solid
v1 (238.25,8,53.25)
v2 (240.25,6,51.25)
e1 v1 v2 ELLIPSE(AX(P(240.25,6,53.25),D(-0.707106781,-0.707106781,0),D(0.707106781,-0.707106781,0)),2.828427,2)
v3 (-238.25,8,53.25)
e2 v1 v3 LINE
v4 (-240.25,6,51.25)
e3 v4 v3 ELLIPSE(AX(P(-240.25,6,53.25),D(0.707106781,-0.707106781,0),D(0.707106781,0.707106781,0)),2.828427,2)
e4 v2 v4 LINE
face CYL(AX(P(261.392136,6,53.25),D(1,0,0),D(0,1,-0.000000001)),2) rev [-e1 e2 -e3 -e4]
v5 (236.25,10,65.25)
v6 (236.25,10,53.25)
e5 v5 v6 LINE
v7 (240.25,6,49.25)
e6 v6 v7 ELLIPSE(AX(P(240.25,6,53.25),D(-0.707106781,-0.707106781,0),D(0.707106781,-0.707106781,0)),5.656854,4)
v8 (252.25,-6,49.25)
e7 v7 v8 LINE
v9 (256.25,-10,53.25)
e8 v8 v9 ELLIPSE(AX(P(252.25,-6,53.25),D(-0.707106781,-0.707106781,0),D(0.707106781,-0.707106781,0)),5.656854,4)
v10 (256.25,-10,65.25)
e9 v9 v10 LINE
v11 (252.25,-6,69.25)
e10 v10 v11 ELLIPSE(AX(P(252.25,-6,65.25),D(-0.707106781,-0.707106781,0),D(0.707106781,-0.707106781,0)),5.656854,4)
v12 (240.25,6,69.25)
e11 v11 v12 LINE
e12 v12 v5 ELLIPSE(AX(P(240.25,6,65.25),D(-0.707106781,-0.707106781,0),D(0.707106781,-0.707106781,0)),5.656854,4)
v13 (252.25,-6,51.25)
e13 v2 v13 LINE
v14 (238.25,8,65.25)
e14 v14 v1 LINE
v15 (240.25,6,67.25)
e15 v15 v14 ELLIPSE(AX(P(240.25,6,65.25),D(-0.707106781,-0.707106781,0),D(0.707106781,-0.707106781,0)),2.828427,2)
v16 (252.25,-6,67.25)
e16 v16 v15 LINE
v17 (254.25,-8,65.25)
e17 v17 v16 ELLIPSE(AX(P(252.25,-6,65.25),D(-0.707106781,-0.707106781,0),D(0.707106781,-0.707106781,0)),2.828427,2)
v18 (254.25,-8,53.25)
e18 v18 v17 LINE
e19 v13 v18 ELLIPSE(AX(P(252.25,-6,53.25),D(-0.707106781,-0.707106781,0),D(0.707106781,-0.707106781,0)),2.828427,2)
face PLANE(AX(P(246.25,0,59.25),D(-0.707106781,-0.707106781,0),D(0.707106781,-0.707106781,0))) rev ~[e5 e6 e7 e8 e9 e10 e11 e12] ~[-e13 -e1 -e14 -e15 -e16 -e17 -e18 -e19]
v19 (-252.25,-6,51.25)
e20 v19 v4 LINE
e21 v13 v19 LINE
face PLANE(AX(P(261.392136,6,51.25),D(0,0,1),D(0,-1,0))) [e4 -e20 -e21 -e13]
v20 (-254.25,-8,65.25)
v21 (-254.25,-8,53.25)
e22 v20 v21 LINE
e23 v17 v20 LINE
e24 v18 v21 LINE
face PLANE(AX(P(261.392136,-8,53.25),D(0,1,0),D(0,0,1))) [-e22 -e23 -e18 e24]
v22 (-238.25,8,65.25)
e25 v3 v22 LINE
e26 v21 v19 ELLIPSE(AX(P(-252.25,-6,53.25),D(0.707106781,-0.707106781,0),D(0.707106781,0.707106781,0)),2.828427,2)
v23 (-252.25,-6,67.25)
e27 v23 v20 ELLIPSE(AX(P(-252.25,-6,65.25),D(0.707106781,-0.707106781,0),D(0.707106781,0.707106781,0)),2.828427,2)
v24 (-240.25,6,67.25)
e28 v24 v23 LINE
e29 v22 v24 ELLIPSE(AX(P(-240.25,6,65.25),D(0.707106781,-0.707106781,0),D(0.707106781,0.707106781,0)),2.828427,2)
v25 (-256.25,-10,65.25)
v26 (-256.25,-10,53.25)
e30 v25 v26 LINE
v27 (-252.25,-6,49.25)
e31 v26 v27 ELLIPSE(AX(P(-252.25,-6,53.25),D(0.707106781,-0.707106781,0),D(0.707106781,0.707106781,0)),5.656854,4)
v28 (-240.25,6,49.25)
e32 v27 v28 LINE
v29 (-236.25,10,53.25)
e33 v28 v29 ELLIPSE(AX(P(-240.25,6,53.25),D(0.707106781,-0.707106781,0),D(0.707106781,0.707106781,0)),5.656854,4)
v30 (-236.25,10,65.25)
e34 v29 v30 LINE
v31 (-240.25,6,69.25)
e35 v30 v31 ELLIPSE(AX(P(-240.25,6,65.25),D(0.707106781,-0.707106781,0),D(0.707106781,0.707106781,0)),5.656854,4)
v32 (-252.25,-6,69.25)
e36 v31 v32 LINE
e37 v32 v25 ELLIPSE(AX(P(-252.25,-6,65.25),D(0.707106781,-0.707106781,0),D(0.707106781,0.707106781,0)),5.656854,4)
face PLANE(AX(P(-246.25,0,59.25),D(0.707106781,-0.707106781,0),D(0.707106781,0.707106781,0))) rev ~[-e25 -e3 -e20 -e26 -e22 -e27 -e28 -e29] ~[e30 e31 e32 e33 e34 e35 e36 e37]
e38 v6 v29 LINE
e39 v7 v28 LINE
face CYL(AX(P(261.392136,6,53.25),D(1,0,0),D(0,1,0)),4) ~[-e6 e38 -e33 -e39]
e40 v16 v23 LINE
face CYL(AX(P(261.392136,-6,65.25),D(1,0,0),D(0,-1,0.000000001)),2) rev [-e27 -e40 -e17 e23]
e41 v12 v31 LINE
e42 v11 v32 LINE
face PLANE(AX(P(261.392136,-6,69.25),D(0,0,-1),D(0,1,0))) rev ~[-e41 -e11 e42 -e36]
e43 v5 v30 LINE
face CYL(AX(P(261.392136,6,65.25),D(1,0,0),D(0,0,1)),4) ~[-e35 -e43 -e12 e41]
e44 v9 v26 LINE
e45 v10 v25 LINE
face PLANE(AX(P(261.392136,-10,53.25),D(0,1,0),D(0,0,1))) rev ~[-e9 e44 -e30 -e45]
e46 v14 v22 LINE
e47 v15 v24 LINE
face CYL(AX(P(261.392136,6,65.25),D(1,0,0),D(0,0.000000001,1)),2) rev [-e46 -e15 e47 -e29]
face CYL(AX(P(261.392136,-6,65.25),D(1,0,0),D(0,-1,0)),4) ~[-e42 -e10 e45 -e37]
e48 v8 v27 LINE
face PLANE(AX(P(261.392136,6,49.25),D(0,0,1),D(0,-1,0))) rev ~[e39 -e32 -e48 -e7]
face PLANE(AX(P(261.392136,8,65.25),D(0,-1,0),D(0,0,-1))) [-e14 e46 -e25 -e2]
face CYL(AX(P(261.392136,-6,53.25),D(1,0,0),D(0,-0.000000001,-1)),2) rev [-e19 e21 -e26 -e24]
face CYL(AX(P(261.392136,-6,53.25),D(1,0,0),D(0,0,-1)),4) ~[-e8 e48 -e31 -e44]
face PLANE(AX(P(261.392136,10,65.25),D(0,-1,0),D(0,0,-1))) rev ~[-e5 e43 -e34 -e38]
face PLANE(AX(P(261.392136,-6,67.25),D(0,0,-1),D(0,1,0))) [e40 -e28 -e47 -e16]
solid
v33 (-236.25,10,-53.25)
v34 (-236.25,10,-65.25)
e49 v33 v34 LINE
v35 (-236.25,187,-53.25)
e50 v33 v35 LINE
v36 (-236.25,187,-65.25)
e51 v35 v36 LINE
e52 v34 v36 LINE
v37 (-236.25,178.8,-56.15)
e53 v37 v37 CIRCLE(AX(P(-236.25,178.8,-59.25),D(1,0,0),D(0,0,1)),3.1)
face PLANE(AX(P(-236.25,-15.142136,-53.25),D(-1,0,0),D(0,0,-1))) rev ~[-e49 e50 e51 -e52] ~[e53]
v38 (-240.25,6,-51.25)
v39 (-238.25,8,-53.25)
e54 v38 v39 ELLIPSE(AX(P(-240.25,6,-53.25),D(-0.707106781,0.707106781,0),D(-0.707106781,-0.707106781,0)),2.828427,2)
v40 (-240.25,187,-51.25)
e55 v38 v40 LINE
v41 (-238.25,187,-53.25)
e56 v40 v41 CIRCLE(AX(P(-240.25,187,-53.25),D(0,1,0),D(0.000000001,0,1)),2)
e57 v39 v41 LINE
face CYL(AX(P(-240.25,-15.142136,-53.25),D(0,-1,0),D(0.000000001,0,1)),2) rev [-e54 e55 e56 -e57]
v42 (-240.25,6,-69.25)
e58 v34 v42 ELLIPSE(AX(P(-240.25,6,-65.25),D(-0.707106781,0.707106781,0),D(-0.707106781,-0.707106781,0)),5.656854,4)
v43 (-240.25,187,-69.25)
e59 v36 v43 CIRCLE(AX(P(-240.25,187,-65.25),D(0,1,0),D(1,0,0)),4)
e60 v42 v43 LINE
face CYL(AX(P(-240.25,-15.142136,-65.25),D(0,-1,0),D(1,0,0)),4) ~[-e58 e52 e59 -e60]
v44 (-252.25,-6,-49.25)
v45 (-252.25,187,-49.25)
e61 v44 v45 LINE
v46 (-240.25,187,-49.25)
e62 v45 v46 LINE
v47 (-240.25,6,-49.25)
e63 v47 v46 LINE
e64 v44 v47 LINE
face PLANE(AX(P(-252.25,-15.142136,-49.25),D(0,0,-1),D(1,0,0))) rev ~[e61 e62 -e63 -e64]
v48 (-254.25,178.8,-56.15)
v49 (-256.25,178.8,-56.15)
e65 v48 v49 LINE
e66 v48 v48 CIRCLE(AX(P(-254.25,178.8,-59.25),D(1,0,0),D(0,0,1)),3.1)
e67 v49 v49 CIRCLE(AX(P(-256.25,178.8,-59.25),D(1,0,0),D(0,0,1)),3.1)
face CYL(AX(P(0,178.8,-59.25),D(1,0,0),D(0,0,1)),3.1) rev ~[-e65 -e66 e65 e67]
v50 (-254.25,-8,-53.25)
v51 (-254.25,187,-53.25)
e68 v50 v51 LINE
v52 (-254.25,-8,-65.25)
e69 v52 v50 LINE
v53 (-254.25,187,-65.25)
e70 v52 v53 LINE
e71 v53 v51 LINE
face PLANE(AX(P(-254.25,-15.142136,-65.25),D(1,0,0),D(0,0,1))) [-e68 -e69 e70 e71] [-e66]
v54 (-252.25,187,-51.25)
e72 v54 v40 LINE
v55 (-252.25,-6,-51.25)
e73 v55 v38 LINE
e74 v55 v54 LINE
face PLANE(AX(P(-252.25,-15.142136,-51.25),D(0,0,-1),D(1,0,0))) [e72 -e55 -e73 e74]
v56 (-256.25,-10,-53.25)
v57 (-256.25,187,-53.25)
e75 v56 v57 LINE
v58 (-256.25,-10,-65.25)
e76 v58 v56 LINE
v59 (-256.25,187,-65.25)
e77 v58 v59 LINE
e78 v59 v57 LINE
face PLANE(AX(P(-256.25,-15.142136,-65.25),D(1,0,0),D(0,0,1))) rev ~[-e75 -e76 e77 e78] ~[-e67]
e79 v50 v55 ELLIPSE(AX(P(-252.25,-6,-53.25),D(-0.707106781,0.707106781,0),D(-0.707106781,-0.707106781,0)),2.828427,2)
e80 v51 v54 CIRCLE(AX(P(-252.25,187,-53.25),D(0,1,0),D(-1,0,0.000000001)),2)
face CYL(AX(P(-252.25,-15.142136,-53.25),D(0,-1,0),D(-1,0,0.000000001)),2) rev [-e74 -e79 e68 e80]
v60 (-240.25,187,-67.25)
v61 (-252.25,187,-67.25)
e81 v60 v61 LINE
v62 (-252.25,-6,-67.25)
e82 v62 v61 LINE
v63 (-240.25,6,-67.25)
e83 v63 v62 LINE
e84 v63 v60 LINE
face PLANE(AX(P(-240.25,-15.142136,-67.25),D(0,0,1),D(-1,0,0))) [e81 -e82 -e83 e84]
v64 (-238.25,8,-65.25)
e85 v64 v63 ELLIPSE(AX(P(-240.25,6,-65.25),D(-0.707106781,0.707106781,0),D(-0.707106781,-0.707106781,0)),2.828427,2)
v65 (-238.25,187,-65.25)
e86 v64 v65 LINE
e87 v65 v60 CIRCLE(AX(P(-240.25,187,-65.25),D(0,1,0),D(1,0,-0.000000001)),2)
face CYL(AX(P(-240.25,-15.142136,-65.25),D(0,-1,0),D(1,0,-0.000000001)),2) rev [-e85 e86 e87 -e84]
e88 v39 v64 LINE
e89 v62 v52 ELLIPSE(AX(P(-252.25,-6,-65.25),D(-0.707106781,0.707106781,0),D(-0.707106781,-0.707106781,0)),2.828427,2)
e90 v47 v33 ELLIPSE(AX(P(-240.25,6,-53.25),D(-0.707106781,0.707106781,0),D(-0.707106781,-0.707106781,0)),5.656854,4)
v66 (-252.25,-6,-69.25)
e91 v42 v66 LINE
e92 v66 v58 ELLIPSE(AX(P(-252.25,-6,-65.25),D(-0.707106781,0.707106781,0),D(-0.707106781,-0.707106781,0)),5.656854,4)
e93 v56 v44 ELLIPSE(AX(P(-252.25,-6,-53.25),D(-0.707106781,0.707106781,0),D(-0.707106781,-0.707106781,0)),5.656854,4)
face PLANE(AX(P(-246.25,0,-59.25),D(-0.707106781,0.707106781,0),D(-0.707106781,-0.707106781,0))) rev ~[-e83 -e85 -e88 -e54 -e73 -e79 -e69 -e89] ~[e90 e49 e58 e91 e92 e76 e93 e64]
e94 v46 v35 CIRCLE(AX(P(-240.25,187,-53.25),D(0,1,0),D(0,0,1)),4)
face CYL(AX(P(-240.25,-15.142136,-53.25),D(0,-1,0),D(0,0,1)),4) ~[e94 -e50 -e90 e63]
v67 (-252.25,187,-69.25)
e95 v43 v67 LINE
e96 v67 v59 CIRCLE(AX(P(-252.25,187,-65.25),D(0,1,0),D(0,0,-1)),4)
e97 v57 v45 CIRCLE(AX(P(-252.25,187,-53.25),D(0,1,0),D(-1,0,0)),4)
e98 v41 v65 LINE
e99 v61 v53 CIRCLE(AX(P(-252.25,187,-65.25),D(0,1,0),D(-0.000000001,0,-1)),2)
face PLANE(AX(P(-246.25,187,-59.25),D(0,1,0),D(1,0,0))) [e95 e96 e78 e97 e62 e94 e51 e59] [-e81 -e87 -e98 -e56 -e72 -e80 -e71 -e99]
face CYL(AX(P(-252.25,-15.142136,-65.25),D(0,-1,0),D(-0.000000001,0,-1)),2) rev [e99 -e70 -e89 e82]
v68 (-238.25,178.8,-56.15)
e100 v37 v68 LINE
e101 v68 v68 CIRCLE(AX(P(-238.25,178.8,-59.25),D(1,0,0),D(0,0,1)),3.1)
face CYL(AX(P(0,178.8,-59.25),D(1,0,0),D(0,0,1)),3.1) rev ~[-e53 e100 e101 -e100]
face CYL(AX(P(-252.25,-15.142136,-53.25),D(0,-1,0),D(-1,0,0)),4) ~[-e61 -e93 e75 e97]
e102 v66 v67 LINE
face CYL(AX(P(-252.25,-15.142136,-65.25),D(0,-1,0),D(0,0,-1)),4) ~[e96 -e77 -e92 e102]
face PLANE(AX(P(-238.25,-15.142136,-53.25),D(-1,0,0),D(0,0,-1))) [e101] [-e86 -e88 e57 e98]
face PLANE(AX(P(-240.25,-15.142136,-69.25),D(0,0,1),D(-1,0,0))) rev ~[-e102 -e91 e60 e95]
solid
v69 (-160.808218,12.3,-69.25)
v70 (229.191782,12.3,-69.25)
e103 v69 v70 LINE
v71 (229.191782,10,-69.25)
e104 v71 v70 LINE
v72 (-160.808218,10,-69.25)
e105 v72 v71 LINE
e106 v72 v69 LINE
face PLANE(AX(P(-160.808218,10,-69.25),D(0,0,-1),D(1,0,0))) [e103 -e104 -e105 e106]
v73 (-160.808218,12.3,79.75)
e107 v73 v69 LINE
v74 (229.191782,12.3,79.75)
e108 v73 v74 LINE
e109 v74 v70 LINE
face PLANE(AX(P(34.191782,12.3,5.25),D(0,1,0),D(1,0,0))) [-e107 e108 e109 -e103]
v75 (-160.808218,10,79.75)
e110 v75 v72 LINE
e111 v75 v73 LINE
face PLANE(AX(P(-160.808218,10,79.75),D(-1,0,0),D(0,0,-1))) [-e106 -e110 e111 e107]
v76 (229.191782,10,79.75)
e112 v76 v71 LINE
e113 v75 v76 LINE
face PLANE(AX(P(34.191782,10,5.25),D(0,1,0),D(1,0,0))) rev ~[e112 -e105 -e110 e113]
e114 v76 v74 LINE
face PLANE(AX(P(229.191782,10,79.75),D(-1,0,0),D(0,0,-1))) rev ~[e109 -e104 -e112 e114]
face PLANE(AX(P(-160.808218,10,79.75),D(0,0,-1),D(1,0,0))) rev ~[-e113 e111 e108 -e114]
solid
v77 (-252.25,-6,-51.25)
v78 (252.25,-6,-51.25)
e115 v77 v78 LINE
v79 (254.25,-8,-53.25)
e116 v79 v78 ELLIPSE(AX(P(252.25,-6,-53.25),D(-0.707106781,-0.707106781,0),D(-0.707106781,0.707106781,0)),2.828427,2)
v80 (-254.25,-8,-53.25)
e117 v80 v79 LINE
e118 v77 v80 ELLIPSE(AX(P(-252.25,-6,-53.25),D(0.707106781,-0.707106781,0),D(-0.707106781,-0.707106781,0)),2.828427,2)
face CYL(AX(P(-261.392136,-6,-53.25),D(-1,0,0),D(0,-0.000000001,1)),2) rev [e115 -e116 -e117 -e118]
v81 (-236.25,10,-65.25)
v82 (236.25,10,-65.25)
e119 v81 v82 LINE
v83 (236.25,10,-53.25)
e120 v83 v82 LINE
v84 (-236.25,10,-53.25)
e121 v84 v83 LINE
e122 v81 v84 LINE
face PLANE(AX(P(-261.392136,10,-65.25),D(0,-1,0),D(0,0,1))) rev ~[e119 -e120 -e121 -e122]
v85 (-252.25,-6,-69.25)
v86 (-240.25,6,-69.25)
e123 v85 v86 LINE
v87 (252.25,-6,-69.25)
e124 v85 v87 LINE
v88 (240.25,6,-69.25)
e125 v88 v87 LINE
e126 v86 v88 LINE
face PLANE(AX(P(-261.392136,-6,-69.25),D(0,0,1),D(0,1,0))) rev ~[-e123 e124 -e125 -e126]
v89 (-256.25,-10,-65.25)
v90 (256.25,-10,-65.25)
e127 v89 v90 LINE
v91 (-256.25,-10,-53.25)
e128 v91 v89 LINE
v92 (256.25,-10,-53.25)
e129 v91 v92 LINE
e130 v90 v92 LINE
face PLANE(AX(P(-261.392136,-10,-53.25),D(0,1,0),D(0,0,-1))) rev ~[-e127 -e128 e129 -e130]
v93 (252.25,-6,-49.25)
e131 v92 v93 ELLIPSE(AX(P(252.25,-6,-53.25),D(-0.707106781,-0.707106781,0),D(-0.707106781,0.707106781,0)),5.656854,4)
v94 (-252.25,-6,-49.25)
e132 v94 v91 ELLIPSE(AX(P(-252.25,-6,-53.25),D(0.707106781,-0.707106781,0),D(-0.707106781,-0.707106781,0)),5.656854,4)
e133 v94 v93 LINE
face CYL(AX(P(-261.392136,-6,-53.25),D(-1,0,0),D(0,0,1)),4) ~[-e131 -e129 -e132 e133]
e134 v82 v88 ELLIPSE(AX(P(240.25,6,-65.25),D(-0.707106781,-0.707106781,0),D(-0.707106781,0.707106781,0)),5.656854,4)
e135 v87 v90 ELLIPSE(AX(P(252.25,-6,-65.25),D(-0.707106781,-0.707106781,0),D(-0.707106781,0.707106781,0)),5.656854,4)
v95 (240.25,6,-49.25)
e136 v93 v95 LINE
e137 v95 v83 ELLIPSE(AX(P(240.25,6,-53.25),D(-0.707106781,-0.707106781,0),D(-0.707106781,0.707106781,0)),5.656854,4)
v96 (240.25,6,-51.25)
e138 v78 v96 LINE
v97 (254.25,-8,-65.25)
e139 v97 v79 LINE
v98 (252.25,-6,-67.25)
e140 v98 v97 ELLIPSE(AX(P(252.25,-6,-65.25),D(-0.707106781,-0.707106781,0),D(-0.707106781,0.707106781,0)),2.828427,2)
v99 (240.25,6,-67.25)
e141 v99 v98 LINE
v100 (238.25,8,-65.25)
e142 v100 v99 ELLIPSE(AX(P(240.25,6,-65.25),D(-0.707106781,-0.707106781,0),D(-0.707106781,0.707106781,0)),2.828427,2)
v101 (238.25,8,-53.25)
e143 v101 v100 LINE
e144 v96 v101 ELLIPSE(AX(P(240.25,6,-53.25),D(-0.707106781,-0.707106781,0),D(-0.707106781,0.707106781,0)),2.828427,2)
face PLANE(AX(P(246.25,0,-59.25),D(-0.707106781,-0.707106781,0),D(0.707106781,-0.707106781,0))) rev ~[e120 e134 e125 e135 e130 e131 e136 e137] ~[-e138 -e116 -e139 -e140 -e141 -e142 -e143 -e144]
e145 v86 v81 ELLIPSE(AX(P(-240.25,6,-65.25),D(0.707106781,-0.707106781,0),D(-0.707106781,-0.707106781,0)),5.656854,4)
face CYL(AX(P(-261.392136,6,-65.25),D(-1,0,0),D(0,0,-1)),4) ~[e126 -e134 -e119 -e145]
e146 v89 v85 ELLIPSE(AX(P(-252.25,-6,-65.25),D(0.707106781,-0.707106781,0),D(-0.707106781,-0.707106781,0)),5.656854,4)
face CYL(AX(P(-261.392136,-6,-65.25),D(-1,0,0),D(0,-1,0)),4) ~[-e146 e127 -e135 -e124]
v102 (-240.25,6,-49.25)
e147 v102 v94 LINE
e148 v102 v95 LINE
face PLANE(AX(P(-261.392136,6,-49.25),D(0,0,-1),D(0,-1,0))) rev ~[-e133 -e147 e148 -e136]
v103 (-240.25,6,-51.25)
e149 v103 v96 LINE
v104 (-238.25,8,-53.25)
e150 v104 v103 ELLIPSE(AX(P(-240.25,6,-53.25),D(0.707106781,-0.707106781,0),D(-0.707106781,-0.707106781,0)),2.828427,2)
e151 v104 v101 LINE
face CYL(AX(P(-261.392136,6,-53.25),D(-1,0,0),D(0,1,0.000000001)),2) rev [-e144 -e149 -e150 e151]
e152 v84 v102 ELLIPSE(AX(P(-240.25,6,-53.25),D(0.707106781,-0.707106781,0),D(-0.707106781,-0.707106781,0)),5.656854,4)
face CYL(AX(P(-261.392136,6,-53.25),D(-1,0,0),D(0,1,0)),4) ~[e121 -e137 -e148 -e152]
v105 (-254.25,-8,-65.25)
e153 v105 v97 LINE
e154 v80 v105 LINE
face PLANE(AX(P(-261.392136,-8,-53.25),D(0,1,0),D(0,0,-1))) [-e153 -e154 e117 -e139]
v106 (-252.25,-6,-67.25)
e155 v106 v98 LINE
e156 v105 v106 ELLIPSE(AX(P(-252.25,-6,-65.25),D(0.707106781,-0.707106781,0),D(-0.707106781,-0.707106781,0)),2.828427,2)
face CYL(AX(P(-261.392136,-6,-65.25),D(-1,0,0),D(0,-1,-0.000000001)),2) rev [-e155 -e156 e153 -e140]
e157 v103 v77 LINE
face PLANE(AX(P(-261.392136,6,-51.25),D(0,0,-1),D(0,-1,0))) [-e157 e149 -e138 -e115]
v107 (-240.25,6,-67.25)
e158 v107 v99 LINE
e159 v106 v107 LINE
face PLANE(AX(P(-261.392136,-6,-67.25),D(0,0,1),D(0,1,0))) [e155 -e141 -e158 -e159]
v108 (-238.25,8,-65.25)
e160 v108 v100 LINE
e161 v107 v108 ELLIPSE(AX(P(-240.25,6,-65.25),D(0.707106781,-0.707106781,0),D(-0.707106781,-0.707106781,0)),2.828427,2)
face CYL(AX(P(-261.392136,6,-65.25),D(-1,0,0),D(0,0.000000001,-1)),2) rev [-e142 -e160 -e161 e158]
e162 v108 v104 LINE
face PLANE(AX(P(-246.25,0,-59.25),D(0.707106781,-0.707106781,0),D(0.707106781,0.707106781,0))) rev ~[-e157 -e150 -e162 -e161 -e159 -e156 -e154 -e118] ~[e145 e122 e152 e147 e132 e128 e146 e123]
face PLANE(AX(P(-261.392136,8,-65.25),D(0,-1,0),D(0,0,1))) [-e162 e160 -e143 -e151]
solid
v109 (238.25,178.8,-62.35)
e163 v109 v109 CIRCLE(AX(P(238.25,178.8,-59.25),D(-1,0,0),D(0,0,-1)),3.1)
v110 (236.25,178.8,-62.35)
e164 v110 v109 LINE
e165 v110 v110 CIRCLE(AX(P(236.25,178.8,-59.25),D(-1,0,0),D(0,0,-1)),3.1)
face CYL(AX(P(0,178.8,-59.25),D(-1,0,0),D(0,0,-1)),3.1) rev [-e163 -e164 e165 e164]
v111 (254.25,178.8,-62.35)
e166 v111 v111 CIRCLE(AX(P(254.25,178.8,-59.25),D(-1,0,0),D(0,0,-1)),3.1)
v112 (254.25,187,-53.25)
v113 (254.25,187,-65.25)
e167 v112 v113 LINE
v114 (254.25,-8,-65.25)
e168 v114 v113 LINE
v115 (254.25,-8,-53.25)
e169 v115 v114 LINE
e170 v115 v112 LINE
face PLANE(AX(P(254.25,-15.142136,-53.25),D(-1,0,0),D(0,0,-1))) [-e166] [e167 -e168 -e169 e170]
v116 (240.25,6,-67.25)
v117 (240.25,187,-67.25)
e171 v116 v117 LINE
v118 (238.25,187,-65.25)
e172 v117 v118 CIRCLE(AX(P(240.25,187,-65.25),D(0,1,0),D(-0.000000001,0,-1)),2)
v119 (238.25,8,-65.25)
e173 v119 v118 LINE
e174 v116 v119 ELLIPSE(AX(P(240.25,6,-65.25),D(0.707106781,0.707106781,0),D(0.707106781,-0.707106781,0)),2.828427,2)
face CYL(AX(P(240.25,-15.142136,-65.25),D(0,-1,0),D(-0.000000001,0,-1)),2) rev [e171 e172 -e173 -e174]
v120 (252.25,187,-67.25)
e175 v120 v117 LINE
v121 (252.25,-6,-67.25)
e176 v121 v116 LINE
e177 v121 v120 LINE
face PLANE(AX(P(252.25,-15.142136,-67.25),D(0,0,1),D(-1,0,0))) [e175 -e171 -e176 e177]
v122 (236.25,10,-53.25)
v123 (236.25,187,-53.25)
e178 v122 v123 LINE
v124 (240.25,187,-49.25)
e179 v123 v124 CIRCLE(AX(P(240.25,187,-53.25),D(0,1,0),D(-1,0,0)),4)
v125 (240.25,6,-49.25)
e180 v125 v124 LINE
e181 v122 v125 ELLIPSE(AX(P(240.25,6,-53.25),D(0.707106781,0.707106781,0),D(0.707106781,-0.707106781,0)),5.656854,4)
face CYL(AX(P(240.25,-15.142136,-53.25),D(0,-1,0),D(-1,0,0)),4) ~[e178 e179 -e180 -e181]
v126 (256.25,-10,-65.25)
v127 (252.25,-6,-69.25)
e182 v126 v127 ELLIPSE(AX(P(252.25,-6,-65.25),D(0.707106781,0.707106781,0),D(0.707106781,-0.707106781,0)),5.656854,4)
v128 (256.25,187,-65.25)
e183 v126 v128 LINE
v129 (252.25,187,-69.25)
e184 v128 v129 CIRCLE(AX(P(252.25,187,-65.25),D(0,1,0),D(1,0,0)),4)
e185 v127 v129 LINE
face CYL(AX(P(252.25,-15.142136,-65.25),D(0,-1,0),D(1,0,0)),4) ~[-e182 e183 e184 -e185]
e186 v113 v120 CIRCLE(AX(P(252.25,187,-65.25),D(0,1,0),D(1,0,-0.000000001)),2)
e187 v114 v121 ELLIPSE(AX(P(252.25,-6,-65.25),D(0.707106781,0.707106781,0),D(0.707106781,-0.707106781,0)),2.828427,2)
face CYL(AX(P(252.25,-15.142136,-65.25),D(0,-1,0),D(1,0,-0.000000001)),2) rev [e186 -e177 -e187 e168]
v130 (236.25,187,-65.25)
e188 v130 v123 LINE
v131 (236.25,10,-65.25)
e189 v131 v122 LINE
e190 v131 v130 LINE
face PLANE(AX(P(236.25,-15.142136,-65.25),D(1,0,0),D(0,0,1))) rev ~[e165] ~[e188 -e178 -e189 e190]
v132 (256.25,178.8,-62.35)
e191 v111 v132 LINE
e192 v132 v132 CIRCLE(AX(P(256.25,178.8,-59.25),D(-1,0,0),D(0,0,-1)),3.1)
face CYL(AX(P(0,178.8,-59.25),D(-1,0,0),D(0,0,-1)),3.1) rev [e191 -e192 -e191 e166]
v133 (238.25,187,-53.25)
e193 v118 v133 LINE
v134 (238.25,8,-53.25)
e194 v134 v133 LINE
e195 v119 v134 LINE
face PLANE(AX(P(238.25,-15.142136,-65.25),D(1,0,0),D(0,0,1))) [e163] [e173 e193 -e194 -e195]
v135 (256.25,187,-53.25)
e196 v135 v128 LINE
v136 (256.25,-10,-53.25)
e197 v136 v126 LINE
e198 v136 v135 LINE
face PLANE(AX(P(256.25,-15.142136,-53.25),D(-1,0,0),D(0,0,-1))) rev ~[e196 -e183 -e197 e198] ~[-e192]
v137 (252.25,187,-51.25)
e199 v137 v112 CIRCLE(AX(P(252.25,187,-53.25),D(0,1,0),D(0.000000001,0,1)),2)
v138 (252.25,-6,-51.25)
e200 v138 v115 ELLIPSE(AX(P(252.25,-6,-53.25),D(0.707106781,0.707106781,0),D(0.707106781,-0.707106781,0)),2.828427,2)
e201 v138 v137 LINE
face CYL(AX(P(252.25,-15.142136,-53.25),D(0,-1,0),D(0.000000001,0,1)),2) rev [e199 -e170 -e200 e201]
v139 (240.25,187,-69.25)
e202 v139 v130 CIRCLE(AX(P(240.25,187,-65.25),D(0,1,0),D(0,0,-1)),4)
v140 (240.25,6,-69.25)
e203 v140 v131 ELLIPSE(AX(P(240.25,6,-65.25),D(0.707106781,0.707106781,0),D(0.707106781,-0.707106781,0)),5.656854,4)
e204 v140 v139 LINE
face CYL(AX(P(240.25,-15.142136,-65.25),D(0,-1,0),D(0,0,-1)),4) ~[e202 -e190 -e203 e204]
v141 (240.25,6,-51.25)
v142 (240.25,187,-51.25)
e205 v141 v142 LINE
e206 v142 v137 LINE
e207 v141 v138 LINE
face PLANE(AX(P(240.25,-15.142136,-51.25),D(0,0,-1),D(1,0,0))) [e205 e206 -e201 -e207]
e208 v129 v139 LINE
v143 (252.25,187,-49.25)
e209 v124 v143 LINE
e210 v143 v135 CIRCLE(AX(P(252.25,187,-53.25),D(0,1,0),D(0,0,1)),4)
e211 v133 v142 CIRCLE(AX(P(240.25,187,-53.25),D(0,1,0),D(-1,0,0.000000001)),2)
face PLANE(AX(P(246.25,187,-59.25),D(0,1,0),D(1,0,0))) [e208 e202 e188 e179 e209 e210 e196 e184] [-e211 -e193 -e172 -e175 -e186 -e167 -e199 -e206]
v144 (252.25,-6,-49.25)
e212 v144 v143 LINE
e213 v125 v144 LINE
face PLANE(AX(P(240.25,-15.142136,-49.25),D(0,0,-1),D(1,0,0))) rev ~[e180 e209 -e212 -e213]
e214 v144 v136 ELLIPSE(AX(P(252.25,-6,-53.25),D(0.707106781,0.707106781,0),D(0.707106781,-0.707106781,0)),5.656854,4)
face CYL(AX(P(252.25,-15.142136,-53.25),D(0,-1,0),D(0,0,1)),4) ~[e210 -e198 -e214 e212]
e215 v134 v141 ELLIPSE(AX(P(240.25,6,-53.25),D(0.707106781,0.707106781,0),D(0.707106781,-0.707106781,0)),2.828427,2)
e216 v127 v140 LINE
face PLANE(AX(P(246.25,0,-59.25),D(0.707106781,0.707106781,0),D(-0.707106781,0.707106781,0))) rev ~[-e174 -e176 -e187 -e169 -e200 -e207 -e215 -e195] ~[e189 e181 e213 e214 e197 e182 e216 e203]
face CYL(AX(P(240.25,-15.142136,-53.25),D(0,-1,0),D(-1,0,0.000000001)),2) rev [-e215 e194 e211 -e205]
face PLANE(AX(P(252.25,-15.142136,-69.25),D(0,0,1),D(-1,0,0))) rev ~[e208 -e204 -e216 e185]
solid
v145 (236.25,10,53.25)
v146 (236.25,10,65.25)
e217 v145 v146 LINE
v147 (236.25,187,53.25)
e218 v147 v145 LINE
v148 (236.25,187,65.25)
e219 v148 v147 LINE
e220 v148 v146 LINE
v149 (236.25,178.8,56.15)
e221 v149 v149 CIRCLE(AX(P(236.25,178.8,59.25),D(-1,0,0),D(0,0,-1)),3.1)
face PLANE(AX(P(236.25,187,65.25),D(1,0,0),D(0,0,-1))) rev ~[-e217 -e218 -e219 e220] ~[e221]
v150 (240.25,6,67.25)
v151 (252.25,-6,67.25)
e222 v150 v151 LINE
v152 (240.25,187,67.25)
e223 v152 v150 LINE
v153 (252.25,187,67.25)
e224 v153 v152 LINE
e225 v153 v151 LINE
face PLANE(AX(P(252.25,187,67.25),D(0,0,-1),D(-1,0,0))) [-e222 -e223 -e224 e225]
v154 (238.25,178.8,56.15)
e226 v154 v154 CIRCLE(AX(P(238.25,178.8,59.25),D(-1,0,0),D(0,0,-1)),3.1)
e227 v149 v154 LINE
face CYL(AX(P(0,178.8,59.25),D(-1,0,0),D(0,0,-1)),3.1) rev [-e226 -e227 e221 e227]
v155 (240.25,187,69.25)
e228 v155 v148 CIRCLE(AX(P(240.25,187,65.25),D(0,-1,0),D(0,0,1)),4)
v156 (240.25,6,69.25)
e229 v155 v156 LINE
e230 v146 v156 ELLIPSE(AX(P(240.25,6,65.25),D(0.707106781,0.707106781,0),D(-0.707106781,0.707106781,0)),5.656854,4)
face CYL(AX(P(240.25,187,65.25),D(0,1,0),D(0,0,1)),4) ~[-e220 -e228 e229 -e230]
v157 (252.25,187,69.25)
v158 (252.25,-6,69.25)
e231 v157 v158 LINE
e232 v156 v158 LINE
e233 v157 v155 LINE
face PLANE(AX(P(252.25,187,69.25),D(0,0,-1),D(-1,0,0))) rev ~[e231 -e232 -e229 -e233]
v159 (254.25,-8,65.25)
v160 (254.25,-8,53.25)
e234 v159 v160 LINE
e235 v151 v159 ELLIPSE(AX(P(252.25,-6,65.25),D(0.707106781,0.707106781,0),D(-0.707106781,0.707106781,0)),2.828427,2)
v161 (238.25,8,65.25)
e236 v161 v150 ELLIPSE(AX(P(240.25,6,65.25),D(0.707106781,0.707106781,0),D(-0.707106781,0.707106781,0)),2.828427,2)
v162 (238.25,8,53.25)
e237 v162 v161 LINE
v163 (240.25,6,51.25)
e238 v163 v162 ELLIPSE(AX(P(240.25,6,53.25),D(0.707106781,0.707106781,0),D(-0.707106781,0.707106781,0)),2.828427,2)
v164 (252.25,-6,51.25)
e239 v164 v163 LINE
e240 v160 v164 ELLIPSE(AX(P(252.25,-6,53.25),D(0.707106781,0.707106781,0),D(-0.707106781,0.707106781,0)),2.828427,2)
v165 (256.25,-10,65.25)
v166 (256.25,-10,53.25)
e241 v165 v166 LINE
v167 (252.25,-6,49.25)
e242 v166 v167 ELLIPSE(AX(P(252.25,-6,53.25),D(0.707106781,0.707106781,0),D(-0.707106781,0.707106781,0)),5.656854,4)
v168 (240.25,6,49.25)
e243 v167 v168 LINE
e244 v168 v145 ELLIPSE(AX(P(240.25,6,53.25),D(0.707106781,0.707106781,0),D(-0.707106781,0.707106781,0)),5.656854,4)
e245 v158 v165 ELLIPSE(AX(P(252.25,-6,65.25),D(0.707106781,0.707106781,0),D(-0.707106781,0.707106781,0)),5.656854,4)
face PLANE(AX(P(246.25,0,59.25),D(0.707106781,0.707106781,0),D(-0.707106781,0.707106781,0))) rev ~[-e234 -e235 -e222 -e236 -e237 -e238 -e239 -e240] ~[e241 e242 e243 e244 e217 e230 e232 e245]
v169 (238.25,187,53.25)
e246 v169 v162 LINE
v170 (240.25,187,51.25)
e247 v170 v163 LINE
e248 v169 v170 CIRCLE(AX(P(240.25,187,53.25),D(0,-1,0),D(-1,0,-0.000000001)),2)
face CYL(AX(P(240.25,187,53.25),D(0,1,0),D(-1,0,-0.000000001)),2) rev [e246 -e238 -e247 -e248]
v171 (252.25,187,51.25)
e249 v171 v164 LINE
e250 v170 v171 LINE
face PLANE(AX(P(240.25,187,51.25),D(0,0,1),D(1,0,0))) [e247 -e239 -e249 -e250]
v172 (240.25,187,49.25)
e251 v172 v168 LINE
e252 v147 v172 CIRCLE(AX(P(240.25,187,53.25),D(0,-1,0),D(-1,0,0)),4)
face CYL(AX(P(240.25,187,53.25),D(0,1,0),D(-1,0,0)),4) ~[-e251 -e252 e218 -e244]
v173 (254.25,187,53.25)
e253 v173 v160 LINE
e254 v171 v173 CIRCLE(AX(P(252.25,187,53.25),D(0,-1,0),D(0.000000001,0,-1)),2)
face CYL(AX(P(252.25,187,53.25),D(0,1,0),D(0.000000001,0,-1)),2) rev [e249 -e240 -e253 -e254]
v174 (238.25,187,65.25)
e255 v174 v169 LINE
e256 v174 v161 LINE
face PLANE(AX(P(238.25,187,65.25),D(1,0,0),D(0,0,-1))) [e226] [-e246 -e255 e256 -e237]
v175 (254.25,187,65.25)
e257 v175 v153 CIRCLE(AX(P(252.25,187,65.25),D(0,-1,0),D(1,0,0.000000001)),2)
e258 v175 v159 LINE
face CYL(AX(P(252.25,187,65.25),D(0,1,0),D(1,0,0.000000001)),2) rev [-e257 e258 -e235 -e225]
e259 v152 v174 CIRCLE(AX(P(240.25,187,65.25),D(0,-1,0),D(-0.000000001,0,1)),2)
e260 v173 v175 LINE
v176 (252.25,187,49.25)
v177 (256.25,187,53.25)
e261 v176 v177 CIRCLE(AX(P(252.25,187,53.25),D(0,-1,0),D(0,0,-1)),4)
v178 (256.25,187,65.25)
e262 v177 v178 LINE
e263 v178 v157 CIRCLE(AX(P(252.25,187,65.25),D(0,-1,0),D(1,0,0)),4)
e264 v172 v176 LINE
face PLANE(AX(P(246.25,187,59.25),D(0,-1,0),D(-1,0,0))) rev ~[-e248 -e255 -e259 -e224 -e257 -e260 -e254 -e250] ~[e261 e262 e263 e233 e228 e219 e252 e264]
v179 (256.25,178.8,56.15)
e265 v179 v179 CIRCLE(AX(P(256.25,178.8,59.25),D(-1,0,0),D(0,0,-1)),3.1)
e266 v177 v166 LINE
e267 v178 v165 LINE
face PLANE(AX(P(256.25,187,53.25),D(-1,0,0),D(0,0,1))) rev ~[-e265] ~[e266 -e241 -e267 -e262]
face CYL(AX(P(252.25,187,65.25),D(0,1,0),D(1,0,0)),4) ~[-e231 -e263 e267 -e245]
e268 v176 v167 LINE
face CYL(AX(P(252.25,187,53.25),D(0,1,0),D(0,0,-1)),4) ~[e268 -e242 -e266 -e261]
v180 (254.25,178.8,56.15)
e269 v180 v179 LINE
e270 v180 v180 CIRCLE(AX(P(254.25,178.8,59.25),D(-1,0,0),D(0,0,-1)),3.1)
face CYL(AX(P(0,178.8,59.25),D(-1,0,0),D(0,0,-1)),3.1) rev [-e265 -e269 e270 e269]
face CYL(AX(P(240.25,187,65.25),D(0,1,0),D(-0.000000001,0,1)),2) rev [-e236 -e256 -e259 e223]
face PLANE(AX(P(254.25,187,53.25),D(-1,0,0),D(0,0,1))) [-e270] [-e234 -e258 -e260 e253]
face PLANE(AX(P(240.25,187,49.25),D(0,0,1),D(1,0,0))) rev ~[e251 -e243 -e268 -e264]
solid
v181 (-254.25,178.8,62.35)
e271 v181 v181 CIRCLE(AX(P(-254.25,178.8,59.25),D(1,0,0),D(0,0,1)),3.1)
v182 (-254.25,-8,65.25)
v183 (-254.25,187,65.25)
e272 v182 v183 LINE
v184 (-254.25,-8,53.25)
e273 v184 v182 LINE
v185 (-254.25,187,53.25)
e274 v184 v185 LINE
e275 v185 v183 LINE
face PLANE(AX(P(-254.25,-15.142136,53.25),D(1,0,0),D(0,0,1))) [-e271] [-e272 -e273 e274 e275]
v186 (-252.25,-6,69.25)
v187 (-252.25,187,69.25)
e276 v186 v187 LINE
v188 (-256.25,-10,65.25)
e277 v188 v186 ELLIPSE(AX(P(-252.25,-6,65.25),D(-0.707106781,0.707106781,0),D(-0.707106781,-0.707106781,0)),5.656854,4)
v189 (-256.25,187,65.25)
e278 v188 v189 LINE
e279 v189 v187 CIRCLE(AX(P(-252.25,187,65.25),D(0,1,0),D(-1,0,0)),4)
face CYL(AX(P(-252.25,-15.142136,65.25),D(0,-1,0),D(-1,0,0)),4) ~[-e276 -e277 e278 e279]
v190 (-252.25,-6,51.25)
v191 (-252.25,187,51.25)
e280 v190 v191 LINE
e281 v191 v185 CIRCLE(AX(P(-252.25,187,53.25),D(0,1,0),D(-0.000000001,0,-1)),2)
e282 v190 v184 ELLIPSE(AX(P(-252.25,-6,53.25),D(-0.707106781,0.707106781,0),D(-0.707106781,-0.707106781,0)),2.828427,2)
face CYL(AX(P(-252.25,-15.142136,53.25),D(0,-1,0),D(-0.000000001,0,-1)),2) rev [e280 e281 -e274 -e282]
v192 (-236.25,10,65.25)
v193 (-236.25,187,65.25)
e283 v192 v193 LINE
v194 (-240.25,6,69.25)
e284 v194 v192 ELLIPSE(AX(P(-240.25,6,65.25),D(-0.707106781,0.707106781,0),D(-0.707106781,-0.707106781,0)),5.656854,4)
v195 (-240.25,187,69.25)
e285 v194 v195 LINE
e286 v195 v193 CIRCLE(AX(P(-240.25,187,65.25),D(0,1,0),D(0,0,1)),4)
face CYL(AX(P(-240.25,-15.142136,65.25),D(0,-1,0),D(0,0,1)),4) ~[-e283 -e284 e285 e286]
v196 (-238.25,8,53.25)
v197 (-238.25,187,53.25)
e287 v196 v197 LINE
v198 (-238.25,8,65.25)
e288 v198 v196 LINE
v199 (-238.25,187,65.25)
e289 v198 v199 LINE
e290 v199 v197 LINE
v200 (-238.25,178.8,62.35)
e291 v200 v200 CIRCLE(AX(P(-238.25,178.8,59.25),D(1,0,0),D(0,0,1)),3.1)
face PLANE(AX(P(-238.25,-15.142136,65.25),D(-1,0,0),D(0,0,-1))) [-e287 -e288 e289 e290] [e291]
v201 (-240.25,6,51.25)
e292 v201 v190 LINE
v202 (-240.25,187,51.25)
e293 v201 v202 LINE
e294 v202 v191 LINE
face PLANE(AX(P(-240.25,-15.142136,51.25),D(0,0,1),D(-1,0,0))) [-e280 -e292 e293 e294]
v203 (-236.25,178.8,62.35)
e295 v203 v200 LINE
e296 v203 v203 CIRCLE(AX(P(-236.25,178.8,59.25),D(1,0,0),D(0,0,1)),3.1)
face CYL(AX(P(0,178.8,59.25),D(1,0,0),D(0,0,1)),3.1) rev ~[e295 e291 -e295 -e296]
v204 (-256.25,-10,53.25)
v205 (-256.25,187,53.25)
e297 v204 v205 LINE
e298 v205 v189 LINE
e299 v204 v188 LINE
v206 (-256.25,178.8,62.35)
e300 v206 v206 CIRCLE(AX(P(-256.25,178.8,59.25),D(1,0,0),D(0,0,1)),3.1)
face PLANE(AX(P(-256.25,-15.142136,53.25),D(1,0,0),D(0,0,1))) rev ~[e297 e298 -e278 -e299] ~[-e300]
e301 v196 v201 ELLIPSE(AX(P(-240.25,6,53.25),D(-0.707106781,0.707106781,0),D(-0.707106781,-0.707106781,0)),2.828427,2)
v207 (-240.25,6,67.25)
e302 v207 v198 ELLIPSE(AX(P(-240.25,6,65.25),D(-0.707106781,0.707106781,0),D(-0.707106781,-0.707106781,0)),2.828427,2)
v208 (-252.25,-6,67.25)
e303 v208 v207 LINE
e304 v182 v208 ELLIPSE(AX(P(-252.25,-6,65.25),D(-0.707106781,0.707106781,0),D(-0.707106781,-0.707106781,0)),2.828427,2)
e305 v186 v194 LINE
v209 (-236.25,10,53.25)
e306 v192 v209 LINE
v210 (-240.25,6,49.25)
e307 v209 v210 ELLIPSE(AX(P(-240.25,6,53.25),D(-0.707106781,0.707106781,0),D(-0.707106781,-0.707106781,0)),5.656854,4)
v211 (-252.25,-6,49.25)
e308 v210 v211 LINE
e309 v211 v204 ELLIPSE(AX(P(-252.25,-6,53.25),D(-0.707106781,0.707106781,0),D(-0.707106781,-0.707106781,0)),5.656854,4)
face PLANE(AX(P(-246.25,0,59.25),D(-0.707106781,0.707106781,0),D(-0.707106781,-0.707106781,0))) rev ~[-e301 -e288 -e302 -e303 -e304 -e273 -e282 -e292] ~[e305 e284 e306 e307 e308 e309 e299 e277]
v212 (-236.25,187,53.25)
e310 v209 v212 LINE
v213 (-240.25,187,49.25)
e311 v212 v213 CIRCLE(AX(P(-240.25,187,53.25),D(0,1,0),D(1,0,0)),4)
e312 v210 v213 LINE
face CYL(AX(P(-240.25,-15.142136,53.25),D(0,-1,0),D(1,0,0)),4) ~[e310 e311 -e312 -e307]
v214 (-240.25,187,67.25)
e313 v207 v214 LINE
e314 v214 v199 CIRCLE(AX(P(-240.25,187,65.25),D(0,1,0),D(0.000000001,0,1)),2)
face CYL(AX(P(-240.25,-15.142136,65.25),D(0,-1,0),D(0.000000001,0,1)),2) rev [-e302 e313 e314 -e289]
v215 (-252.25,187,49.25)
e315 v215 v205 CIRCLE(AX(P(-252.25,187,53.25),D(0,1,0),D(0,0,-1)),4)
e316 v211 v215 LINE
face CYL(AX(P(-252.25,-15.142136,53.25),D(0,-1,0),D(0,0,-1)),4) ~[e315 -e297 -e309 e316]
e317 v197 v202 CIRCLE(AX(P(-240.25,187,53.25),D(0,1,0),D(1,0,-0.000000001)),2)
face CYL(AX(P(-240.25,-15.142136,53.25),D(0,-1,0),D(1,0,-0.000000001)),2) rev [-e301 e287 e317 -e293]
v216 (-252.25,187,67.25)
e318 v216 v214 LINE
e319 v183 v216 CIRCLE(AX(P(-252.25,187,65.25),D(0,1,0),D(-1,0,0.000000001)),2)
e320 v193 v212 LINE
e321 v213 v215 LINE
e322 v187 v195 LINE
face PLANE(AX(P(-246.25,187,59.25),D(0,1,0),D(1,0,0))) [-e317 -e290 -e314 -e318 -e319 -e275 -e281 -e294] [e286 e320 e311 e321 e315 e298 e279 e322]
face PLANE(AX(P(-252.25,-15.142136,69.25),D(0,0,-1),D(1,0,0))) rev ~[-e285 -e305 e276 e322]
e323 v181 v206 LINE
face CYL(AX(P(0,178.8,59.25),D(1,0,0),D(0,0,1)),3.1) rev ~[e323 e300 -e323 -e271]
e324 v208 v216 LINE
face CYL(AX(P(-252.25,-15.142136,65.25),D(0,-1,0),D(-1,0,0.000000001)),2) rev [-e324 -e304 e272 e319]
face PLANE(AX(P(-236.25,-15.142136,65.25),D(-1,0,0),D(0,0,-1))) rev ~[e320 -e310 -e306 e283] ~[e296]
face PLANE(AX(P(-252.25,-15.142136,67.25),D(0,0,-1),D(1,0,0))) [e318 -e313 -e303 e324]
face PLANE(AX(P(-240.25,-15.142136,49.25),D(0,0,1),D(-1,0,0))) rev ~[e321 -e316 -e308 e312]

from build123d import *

# Parameters (mm, degrees)
SQUARE_TUBE_20_X_20_X_2_1_DEPTH        = 202.142135624
SQUARE_TUBE_20_X_20_X_2_1_2_DEPTH      = 522.784271247
SQUARE_TUBE_20_X_20_X_2_1_3_DEPTH      = 187
SQUARE_TUBE_20_X_20_X_2_1_3_DEPTH_BACK = 15.142135624
SQUARE_TUBE_20_X_20_X_2_1_4_DEPTH      = 202.142135624
SQUARE_TUBE_20_X_20_X_2_1_5_DEPTH      = 522.784271247
SQUARE_TUBE_20_X_20_X_2_1_6_DEPTH      = 202.142135624
SKETCH2_W                              = 390
SKETCH2_H                              = 149
BOSS_EXTRUDE1_DEPTH                    = 2.3
SKETCH3_R                              = 3.1
CUT_EXTRUDE1_DEPTH                     = 10000
SKETCH4_R                              = 3.1
CUT_EXTRUDE2_DEPTH                     = 10000


with BuildPart() as part:
    # Sketch1 on segment 1 (carried to segment 1) → Square tube 20 X 20 X 2(1) (new body)
    with BuildSketch(Plane(origin=(246.25, 187, 59.25), x_dir=(-1, 0, 0), z_dir=(0, -1, 0))):
        with BuildLine():
            Line((-6, -10), (6, -10))
            ThreePointArc((6, -10), (8.828427125, -8.828427125), (10, -6))
            Line((10, -6), (10, 6))
            ThreePointArc((10, 6), (8.828427125, 8.828427125), (6, 10))
            Line((6, 10), (-6, 10))
            ThreePointArc((-6, 10), (-8.828427125, 8.828427125), (-10, 6))
            Line((-10, 6), (-10, -6))
            ThreePointArc((-10, -6), (-8.828427125, -8.828427125), (-6, -10))
        make_face()
        with BuildLine():
            Line((-6, -8), (6, -8))
            ThreePointArc((6, -8), (7.414213562, -7.414213562), (8, -6))
            Line((8, -6), (8, 6))
            ThreePointArc((8, 6), (7.414213562, 7.414213562), (6, 8))
            Line((6, 8), (-6, 8))
            ThreePointArc((-6, 8), (-7.414213562, 7.414213562), (-8, 6))
            Line((-8, 6), (-8, -6))
            ThreePointArc((-8, -6), (-7.414213562, -7.414213562), (-6, -8))
        make_face(mode=Mode.SUBTRACT)
    extrude(amount=SQUARE_TUBE_20_X_20_X_2_1_DEPTH)

    # Square tube 20 X 20 X 2(1) mitre 1
    split(bisect_by=Plane(origin=(246.25, 0, 59.25), x_dir=(-0.707106781, 0.707106781, 0), z_dir=(0.707106781, 0.707106781, 0)), keep=Keep.TOP)


with BuildPart() as body_2:
    # Sketch1 on segment 2 (carried to segment 2) → Square tube 20 X 20 X 2_1 2 (new body)
    with BuildSketch(Plane(origin=(261.392135624, 0, 59.25), x_dir=(0, 1, 0), z_dir=(-1, 0, 0))):
        with BuildLine():
            Line((-6, -10), (6, -10))
            ThreePointArc((6, -10), (8.828427125, -8.828427125), (10, -6))
            Line((10, -6), (10, 6))
            ThreePointArc((10, 6), (8.828427125, 8.828427125), (6, 10))
            Line((6, 10), (-6, 10))
            ThreePointArc((-6, 10), (-8.828427125, 8.828427125), (-10, 6))
            Line((-10, 6), (-10, -6))
            ThreePointArc((-10, -6), (-8.828427125, -8.828427125), (-6, -10))
        make_face()
        with BuildLine():
            Line((-6, -8), (6, -8))
            ThreePointArc((6, -8), (7.414213562, -7.414213562), (8, -6))
            Line((8, -6), (8, 6))
            ThreePointArc((8, 6), (7.414213562, 7.414213562), (6, 8))
            Line((6, 8), (-6, 8))
            ThreePointArc((-6, 8), (-7.414213562, 7.414213562), (-8, 6))
            Line((-8, 6), (-8, -6))
            ThreePointArc((-8, -6), (-7.414213562, -7.414213562), (-6, -8))
        make_face(mode=Mode.SUBTRACT)
    extrude(amount=SQUARE_TUBE_20_X_20_X_2_1_2_DEPTH)

    # Square tube 20 X 20 X 2_1 2 mitre 1
    split(bisect_by=Plane(origin=(-246.25, 0, 59.25), x_dir=(0.707106781, 0.707106781, 0), z_dir=(0.707106781, -0.707106781, 0)), keep=Keep.TOP)

    # Square tube 20 X 20 X 2_1 2 mitre 2
    split(bisect_by=Plane(origin=(246.25, 0, 59.25), x_dir=(0.707106781, -0.707106781, 0), z_dir=(-0.707106781, -0.707106781, 0)), keep=Keep.TOP)


with BuildPart() as body_3:
    # Sketch1 → Square tube 20 X 20 X 2_1 3 (new, two sides: drawn at the far end of the back side and taken through both)
    with BuildSketch(Plane(origin=(-246.25, 0, 59.25), x_dir=(1, 0, 0), z_dir=(0, 1, 0)).offset(-SQUARE_TUBE_20_X_20_X_2_1_3_DEPTH_BACK)):
        with BuildLine():
            Line((-6, -10), (6, -10))
            ThreePointArc((6, -10), (8.828427125, -8.828427125), (10, -6))
            Line((10, -6), (10, 6))
            ThreePointArc((10, 6), (8.828427125, 8.828427125), (6, 10))
            Line((6, 10), (-6, 10))
            ThreePointArc((-6, 10), (-8.828427125, 8.828427125), (-10, 6))
            Line((-10, 6), (-10, -6))
            ThreePointArc((-10, -6), (-8.828427125, -8.828427125), (-6, -10))
        make_face()
        with BuildLine():
            Line((-6, -8), (6, -8))
            ThreePointArc((6, -8), (7.414213562, -7.414213562), (8, -6))
            Line((8, -6), (8, 6))
            ThreePointArc((8, 6), (7.414213562, 7.414213562), (6, 8))
            Line((6, 8), (-6, 8))
            ThreePointArc((-6, 8), (-7.414213562, 7.414213562), (-8, 6))
            Line((-8, 6), (-8, -6))
            ThreePointArc((-8, -6), (-7.414213562, -7.414213562), (-6, -8))
        make_face(mode=Mode.SUBTRACT)
    extrude(amount=SQUARE_TUBE_20_X_20_X_2_1_3_DEPTH + SQUARE_TUBE_20_X_20_X_2_1_3_DEPTH_BACK)

    # Square tube 20 X 20 X 2_1 3 mitre 1
    split(bisect_by=Plane(origin=(-246.25, 0, 59.25), x_dir=(-0.707106781, -0.707106781, 0), z_dir=(-0.707106781, 0.707106781, 0)), keep=Keep.TOP)


with BuildPart() as body_4:
    # Sketch1 on segment 4 (carried to segment 4) → Square tube 20 X 20 X 2_1 4 (new body)
    with BuildSketch(Plane(origin=(246.25, -15.142135624, -59.25), x_dir=(1, 0, 0), z_dir=(0, 1, 0))):
        with BuildLine():
            Line((-6, -10), (6, -10))
            ThreePointArc((6, -10), (8.828427125, -8.828427125), (10, -6))
            Line((10, -6), (10, 6))
            ThreePointArc((10, 6), (8.828427125, 8.828427125), (6, 10))
            Line((6, 10), (-6, 10))
            ThreePointArc((-6, 10), (-8.828427125, 8.828427125), (-10, 6))
            Line((-10, 6), (-10, -6))
            ThreePointArc((-10, -6), (-8.828427125, -8.828427125), (-6, -10))
        make_face()
        with BuildLine():
            Line((-6, -8), (6, -8))
            ThreePointArc((6, -8), (7.414213562, -7.414213562), (8, -6))
            Line((8, -6), (8, 6))
            ThreePointArc((8, 6), (7.414213562, 7.414213562), (6, 8))
            Line((6, 8), (-6, 8))
            ThreePointArc((-6, 8), (-7.414213562, 7.414213562), (-8, 6))
            Line((-8, 6), (-8, -6))
            ThreePointArc((-8, -6), (-7.414213562, -7.414213562), (-6, -8))
        make_face(mode=Mode.SUBTRACT)
    extrude(amount=SQUARE_TUBE_20_X_20_X_2_1_4_DEPTH)

    # Square tube 20 X 20 X 2_1 4 mitre 1
    split(bisect_by=Plane(origin=(246.25, 0, -59.25), x_dir=(-0.707106781, 0.707106781, 0), z_dir=(0.707106781, 0.707106781, 0)), keep=Keep.TOP)


with BuildPart() as body_5:
    # Sketch1 on segment 5 (carried to segment 5) → Square tube 20 X 20 X 2_1 5 (new body)
    with BuildSketch(Plane(origin=(-261.392135624, 0, -59.25), x_dir=(0, -1, 0), z_dir=(1, 0, 0))):
        with BuildLine():
            Line((-6, -10), (6, -10))
            ThreePointArc((6, -10), (8.828427125, -8.828427125), (10, -6))
            Line((10, -6), (10, 6))
            ThreePointArc((10, 6), (8.828427125, 8.828427125), (6, 10))
            Line((6, 10), (-6, 10))
            ThreePointArc((-6, 10), (-8.828427125, 8.828427125), (-10, 6))
            Line((-10, 6), (-10, -6))
            ThreePointArc((-10, -6), (-8.828427125, -8.828427125), (-6, -10))
        make_face()
        with BuildLine():
            Line((-6, -8), (6, -8))
            ThreePointArc((6, -8), (7.414213562, -7.414213562), (8, -6))
            Line((8, -6), (8, 6))
            ThreePointArc((8, 6), (7.414213562, 7.414213562), (6, 8))
            Line((6, 8), (-6, 8))
            ThreePointArc((-6, 8), (-7.414213562, 7.414213562), (-8, 6))
            Line((-8, 6), (-8, -6))
            ThreePointArc((-8, -6), (-7.414213562, -7.414213562), (-6, -8))
        make_face(mode=Mode.SUBTRACT)
    extrude(amount=SQUARE_TUBE_20_X_20_X_2_1_5_DEPTH)

    # Square tube 20 X 20 X 2_1 5 mitre 1
    split(bisect_by=Plane(origin=(-246.25, 0, -59.25), x_dir=(0.707106781, 0.707106781, 0), z_dir=(0.707106781, -0.707106781, 0)), keep=Keep.TOP)

    # Square tube 20 X 20 X 2_1 5 mitre 2
    split(bisect_by=Plane(origin=(246.25, 0, -59.25), x_dir=(0.707106781, -0.707106781, 0), z_dir=(-0.707106781, -0.707106781, 0)), keep=Keep.TOP)


with BuildPart() as body_6:
    # Sketch1 on segment 6 (carried to segment 6) → Square tube 20 X 20 X 2_1 6 (new body)
    with BuildSketch(Plane(origin=(-246.25, -15.142135624, -59.25), x_dir=(1, 0, 0), z_dir=(0, 1, 0))):
        with BuildLine():
            Line((-6, -10), (6, -10))
            ThreePointArc((6, -10), (8.828427125, -8.828427125), (10, -6))
            Line((10, -6), (10, 6))
            ThreePointArc((10, 6), (8.828427125, 8.828427125), (6, 10))
            Line((6, 10), (-6, 10))
            ThreePointArc((-6, 10), (-8.828427125, 8.828427125), (-10, 6))
            Line((-10, 6), (-10, -6))
            ThreePointArc((-10, -6), (-8.828427125, -8.828427125), (-6, -10))
        make_face()
        with BuildLine():
            Line((-6, -8), (6, -8))
            ThreePointArc((6, -8), (7.414213562, -7.414213562), (8, -6))
            Line((8, -6), (8, 6))
            ThreePointArc((8, 6), (7.414213562, 7.414213562), (6, 8))
            Line((6, 8), (-6, 8))
            ThreePointArc((-6, 8), (-7.414213562, 7.414213562), (-8, 6))
            Line((-8, 6), (-8, -6))
            ThreePointArc((-8, -6), (-7.414213562, -7.414213562), (-6, -8))
        make_face(mode=Mode.SUBTRACT)
    extrude(amount=SQUARE_TUBE_20_X_20_X_2_1_6_DEPTH)

    # Square tube 20 X 20 X 2_1 6 mitre 1
    split(bisect_by=Plane(origin=(-246.25, 0, -59.25), x_dir=(-0.707106781, -0.707106781, 0), z_dir=(-0.707106781, 0.707106781, 0)), keep=Keep.TOP)


with BuildPart() as body_7:
    # Sketch2 → Boss-Extrude1 (new body)
    with BuildSketch(Plane(origin=(0, 10, 0), x_dir=(1, 0, 0), z_dir=(0, 1, 0))):
        with Locations((34.191782405, -5.25)):
            Rectangle(SKETCH2_W, SKETCH2_H)
    extrude(amount=BOSS_EXTRUDE1_DEPTH)


with BuildPart() as cut_extrude1_tool:
    # Sketch3 → Cut-Extrude1 (new body)
    with BuildSketch(Plane(origin=(0, 0, 0), x_dir=(0, 0, -1), z_dir=(1, 0, 0))):
        with Locations(Location((59.25, 178.8, 0), (0, 0, 180))):
            Circle(SKETCH3_R)
        with Locations(Location((-59.25, 178.8, 0), (0, 0, 180))):
            Circle(SKETCH3_R)
    extrude(amount=-CUT_EXTRUDE1_DEPTH)


with BuildPart() as body_3_1:
    add(body_3.part)

    # Cut-Extrude1: cut by cut_extrude1_tool
    add(cut_extrude1_tool.part, mode=Mode.SUBTRACT)


with BuildPart() as body_6_1:
    add(body_6.part)

    # Cut-Extrude1: cut by cut_extrude1_tool
    add(cut_extrude1_tool.part, mode=Mode.SUBTRACT)


with BuildPart() as cut_extrude2_tool:
    # Sketch4 → Cut-Extrude2 (new body)
    with BuildSketch(Plane(origin=(0, 0, 0), x_dir=(0, 0, -1), z_dir=(1, 0, 0))):
        with Locations((59.25, 178.8)):
            Circle(SKETCH4_R)
        with Locations((-59.25, 178.8)):
            Circle(SKETCH4_R)
    extrude(amount=CUT_EXTRUDE2_DEPTH)


with BuildPart() as part_1:
    add(part.part)

    # Cut-Extrude2: cut by cut_extrude2_tool
    add(cut_extrude2_tool.part, mode=Mode.SUBTRACT)


with BuildPart() as body_4_1:
    add(body_4.part)

    # Cut-Extrude2: cut by cut_extrude2_tool
    add(cut_extrude2_tool.part, mode=Mode.SUBTRACT)


solid = Compound([body_2.part, body_5.part, body_7.part, body_3_1.part, body_6_1.part, part_1.part, body_4_1.part])
